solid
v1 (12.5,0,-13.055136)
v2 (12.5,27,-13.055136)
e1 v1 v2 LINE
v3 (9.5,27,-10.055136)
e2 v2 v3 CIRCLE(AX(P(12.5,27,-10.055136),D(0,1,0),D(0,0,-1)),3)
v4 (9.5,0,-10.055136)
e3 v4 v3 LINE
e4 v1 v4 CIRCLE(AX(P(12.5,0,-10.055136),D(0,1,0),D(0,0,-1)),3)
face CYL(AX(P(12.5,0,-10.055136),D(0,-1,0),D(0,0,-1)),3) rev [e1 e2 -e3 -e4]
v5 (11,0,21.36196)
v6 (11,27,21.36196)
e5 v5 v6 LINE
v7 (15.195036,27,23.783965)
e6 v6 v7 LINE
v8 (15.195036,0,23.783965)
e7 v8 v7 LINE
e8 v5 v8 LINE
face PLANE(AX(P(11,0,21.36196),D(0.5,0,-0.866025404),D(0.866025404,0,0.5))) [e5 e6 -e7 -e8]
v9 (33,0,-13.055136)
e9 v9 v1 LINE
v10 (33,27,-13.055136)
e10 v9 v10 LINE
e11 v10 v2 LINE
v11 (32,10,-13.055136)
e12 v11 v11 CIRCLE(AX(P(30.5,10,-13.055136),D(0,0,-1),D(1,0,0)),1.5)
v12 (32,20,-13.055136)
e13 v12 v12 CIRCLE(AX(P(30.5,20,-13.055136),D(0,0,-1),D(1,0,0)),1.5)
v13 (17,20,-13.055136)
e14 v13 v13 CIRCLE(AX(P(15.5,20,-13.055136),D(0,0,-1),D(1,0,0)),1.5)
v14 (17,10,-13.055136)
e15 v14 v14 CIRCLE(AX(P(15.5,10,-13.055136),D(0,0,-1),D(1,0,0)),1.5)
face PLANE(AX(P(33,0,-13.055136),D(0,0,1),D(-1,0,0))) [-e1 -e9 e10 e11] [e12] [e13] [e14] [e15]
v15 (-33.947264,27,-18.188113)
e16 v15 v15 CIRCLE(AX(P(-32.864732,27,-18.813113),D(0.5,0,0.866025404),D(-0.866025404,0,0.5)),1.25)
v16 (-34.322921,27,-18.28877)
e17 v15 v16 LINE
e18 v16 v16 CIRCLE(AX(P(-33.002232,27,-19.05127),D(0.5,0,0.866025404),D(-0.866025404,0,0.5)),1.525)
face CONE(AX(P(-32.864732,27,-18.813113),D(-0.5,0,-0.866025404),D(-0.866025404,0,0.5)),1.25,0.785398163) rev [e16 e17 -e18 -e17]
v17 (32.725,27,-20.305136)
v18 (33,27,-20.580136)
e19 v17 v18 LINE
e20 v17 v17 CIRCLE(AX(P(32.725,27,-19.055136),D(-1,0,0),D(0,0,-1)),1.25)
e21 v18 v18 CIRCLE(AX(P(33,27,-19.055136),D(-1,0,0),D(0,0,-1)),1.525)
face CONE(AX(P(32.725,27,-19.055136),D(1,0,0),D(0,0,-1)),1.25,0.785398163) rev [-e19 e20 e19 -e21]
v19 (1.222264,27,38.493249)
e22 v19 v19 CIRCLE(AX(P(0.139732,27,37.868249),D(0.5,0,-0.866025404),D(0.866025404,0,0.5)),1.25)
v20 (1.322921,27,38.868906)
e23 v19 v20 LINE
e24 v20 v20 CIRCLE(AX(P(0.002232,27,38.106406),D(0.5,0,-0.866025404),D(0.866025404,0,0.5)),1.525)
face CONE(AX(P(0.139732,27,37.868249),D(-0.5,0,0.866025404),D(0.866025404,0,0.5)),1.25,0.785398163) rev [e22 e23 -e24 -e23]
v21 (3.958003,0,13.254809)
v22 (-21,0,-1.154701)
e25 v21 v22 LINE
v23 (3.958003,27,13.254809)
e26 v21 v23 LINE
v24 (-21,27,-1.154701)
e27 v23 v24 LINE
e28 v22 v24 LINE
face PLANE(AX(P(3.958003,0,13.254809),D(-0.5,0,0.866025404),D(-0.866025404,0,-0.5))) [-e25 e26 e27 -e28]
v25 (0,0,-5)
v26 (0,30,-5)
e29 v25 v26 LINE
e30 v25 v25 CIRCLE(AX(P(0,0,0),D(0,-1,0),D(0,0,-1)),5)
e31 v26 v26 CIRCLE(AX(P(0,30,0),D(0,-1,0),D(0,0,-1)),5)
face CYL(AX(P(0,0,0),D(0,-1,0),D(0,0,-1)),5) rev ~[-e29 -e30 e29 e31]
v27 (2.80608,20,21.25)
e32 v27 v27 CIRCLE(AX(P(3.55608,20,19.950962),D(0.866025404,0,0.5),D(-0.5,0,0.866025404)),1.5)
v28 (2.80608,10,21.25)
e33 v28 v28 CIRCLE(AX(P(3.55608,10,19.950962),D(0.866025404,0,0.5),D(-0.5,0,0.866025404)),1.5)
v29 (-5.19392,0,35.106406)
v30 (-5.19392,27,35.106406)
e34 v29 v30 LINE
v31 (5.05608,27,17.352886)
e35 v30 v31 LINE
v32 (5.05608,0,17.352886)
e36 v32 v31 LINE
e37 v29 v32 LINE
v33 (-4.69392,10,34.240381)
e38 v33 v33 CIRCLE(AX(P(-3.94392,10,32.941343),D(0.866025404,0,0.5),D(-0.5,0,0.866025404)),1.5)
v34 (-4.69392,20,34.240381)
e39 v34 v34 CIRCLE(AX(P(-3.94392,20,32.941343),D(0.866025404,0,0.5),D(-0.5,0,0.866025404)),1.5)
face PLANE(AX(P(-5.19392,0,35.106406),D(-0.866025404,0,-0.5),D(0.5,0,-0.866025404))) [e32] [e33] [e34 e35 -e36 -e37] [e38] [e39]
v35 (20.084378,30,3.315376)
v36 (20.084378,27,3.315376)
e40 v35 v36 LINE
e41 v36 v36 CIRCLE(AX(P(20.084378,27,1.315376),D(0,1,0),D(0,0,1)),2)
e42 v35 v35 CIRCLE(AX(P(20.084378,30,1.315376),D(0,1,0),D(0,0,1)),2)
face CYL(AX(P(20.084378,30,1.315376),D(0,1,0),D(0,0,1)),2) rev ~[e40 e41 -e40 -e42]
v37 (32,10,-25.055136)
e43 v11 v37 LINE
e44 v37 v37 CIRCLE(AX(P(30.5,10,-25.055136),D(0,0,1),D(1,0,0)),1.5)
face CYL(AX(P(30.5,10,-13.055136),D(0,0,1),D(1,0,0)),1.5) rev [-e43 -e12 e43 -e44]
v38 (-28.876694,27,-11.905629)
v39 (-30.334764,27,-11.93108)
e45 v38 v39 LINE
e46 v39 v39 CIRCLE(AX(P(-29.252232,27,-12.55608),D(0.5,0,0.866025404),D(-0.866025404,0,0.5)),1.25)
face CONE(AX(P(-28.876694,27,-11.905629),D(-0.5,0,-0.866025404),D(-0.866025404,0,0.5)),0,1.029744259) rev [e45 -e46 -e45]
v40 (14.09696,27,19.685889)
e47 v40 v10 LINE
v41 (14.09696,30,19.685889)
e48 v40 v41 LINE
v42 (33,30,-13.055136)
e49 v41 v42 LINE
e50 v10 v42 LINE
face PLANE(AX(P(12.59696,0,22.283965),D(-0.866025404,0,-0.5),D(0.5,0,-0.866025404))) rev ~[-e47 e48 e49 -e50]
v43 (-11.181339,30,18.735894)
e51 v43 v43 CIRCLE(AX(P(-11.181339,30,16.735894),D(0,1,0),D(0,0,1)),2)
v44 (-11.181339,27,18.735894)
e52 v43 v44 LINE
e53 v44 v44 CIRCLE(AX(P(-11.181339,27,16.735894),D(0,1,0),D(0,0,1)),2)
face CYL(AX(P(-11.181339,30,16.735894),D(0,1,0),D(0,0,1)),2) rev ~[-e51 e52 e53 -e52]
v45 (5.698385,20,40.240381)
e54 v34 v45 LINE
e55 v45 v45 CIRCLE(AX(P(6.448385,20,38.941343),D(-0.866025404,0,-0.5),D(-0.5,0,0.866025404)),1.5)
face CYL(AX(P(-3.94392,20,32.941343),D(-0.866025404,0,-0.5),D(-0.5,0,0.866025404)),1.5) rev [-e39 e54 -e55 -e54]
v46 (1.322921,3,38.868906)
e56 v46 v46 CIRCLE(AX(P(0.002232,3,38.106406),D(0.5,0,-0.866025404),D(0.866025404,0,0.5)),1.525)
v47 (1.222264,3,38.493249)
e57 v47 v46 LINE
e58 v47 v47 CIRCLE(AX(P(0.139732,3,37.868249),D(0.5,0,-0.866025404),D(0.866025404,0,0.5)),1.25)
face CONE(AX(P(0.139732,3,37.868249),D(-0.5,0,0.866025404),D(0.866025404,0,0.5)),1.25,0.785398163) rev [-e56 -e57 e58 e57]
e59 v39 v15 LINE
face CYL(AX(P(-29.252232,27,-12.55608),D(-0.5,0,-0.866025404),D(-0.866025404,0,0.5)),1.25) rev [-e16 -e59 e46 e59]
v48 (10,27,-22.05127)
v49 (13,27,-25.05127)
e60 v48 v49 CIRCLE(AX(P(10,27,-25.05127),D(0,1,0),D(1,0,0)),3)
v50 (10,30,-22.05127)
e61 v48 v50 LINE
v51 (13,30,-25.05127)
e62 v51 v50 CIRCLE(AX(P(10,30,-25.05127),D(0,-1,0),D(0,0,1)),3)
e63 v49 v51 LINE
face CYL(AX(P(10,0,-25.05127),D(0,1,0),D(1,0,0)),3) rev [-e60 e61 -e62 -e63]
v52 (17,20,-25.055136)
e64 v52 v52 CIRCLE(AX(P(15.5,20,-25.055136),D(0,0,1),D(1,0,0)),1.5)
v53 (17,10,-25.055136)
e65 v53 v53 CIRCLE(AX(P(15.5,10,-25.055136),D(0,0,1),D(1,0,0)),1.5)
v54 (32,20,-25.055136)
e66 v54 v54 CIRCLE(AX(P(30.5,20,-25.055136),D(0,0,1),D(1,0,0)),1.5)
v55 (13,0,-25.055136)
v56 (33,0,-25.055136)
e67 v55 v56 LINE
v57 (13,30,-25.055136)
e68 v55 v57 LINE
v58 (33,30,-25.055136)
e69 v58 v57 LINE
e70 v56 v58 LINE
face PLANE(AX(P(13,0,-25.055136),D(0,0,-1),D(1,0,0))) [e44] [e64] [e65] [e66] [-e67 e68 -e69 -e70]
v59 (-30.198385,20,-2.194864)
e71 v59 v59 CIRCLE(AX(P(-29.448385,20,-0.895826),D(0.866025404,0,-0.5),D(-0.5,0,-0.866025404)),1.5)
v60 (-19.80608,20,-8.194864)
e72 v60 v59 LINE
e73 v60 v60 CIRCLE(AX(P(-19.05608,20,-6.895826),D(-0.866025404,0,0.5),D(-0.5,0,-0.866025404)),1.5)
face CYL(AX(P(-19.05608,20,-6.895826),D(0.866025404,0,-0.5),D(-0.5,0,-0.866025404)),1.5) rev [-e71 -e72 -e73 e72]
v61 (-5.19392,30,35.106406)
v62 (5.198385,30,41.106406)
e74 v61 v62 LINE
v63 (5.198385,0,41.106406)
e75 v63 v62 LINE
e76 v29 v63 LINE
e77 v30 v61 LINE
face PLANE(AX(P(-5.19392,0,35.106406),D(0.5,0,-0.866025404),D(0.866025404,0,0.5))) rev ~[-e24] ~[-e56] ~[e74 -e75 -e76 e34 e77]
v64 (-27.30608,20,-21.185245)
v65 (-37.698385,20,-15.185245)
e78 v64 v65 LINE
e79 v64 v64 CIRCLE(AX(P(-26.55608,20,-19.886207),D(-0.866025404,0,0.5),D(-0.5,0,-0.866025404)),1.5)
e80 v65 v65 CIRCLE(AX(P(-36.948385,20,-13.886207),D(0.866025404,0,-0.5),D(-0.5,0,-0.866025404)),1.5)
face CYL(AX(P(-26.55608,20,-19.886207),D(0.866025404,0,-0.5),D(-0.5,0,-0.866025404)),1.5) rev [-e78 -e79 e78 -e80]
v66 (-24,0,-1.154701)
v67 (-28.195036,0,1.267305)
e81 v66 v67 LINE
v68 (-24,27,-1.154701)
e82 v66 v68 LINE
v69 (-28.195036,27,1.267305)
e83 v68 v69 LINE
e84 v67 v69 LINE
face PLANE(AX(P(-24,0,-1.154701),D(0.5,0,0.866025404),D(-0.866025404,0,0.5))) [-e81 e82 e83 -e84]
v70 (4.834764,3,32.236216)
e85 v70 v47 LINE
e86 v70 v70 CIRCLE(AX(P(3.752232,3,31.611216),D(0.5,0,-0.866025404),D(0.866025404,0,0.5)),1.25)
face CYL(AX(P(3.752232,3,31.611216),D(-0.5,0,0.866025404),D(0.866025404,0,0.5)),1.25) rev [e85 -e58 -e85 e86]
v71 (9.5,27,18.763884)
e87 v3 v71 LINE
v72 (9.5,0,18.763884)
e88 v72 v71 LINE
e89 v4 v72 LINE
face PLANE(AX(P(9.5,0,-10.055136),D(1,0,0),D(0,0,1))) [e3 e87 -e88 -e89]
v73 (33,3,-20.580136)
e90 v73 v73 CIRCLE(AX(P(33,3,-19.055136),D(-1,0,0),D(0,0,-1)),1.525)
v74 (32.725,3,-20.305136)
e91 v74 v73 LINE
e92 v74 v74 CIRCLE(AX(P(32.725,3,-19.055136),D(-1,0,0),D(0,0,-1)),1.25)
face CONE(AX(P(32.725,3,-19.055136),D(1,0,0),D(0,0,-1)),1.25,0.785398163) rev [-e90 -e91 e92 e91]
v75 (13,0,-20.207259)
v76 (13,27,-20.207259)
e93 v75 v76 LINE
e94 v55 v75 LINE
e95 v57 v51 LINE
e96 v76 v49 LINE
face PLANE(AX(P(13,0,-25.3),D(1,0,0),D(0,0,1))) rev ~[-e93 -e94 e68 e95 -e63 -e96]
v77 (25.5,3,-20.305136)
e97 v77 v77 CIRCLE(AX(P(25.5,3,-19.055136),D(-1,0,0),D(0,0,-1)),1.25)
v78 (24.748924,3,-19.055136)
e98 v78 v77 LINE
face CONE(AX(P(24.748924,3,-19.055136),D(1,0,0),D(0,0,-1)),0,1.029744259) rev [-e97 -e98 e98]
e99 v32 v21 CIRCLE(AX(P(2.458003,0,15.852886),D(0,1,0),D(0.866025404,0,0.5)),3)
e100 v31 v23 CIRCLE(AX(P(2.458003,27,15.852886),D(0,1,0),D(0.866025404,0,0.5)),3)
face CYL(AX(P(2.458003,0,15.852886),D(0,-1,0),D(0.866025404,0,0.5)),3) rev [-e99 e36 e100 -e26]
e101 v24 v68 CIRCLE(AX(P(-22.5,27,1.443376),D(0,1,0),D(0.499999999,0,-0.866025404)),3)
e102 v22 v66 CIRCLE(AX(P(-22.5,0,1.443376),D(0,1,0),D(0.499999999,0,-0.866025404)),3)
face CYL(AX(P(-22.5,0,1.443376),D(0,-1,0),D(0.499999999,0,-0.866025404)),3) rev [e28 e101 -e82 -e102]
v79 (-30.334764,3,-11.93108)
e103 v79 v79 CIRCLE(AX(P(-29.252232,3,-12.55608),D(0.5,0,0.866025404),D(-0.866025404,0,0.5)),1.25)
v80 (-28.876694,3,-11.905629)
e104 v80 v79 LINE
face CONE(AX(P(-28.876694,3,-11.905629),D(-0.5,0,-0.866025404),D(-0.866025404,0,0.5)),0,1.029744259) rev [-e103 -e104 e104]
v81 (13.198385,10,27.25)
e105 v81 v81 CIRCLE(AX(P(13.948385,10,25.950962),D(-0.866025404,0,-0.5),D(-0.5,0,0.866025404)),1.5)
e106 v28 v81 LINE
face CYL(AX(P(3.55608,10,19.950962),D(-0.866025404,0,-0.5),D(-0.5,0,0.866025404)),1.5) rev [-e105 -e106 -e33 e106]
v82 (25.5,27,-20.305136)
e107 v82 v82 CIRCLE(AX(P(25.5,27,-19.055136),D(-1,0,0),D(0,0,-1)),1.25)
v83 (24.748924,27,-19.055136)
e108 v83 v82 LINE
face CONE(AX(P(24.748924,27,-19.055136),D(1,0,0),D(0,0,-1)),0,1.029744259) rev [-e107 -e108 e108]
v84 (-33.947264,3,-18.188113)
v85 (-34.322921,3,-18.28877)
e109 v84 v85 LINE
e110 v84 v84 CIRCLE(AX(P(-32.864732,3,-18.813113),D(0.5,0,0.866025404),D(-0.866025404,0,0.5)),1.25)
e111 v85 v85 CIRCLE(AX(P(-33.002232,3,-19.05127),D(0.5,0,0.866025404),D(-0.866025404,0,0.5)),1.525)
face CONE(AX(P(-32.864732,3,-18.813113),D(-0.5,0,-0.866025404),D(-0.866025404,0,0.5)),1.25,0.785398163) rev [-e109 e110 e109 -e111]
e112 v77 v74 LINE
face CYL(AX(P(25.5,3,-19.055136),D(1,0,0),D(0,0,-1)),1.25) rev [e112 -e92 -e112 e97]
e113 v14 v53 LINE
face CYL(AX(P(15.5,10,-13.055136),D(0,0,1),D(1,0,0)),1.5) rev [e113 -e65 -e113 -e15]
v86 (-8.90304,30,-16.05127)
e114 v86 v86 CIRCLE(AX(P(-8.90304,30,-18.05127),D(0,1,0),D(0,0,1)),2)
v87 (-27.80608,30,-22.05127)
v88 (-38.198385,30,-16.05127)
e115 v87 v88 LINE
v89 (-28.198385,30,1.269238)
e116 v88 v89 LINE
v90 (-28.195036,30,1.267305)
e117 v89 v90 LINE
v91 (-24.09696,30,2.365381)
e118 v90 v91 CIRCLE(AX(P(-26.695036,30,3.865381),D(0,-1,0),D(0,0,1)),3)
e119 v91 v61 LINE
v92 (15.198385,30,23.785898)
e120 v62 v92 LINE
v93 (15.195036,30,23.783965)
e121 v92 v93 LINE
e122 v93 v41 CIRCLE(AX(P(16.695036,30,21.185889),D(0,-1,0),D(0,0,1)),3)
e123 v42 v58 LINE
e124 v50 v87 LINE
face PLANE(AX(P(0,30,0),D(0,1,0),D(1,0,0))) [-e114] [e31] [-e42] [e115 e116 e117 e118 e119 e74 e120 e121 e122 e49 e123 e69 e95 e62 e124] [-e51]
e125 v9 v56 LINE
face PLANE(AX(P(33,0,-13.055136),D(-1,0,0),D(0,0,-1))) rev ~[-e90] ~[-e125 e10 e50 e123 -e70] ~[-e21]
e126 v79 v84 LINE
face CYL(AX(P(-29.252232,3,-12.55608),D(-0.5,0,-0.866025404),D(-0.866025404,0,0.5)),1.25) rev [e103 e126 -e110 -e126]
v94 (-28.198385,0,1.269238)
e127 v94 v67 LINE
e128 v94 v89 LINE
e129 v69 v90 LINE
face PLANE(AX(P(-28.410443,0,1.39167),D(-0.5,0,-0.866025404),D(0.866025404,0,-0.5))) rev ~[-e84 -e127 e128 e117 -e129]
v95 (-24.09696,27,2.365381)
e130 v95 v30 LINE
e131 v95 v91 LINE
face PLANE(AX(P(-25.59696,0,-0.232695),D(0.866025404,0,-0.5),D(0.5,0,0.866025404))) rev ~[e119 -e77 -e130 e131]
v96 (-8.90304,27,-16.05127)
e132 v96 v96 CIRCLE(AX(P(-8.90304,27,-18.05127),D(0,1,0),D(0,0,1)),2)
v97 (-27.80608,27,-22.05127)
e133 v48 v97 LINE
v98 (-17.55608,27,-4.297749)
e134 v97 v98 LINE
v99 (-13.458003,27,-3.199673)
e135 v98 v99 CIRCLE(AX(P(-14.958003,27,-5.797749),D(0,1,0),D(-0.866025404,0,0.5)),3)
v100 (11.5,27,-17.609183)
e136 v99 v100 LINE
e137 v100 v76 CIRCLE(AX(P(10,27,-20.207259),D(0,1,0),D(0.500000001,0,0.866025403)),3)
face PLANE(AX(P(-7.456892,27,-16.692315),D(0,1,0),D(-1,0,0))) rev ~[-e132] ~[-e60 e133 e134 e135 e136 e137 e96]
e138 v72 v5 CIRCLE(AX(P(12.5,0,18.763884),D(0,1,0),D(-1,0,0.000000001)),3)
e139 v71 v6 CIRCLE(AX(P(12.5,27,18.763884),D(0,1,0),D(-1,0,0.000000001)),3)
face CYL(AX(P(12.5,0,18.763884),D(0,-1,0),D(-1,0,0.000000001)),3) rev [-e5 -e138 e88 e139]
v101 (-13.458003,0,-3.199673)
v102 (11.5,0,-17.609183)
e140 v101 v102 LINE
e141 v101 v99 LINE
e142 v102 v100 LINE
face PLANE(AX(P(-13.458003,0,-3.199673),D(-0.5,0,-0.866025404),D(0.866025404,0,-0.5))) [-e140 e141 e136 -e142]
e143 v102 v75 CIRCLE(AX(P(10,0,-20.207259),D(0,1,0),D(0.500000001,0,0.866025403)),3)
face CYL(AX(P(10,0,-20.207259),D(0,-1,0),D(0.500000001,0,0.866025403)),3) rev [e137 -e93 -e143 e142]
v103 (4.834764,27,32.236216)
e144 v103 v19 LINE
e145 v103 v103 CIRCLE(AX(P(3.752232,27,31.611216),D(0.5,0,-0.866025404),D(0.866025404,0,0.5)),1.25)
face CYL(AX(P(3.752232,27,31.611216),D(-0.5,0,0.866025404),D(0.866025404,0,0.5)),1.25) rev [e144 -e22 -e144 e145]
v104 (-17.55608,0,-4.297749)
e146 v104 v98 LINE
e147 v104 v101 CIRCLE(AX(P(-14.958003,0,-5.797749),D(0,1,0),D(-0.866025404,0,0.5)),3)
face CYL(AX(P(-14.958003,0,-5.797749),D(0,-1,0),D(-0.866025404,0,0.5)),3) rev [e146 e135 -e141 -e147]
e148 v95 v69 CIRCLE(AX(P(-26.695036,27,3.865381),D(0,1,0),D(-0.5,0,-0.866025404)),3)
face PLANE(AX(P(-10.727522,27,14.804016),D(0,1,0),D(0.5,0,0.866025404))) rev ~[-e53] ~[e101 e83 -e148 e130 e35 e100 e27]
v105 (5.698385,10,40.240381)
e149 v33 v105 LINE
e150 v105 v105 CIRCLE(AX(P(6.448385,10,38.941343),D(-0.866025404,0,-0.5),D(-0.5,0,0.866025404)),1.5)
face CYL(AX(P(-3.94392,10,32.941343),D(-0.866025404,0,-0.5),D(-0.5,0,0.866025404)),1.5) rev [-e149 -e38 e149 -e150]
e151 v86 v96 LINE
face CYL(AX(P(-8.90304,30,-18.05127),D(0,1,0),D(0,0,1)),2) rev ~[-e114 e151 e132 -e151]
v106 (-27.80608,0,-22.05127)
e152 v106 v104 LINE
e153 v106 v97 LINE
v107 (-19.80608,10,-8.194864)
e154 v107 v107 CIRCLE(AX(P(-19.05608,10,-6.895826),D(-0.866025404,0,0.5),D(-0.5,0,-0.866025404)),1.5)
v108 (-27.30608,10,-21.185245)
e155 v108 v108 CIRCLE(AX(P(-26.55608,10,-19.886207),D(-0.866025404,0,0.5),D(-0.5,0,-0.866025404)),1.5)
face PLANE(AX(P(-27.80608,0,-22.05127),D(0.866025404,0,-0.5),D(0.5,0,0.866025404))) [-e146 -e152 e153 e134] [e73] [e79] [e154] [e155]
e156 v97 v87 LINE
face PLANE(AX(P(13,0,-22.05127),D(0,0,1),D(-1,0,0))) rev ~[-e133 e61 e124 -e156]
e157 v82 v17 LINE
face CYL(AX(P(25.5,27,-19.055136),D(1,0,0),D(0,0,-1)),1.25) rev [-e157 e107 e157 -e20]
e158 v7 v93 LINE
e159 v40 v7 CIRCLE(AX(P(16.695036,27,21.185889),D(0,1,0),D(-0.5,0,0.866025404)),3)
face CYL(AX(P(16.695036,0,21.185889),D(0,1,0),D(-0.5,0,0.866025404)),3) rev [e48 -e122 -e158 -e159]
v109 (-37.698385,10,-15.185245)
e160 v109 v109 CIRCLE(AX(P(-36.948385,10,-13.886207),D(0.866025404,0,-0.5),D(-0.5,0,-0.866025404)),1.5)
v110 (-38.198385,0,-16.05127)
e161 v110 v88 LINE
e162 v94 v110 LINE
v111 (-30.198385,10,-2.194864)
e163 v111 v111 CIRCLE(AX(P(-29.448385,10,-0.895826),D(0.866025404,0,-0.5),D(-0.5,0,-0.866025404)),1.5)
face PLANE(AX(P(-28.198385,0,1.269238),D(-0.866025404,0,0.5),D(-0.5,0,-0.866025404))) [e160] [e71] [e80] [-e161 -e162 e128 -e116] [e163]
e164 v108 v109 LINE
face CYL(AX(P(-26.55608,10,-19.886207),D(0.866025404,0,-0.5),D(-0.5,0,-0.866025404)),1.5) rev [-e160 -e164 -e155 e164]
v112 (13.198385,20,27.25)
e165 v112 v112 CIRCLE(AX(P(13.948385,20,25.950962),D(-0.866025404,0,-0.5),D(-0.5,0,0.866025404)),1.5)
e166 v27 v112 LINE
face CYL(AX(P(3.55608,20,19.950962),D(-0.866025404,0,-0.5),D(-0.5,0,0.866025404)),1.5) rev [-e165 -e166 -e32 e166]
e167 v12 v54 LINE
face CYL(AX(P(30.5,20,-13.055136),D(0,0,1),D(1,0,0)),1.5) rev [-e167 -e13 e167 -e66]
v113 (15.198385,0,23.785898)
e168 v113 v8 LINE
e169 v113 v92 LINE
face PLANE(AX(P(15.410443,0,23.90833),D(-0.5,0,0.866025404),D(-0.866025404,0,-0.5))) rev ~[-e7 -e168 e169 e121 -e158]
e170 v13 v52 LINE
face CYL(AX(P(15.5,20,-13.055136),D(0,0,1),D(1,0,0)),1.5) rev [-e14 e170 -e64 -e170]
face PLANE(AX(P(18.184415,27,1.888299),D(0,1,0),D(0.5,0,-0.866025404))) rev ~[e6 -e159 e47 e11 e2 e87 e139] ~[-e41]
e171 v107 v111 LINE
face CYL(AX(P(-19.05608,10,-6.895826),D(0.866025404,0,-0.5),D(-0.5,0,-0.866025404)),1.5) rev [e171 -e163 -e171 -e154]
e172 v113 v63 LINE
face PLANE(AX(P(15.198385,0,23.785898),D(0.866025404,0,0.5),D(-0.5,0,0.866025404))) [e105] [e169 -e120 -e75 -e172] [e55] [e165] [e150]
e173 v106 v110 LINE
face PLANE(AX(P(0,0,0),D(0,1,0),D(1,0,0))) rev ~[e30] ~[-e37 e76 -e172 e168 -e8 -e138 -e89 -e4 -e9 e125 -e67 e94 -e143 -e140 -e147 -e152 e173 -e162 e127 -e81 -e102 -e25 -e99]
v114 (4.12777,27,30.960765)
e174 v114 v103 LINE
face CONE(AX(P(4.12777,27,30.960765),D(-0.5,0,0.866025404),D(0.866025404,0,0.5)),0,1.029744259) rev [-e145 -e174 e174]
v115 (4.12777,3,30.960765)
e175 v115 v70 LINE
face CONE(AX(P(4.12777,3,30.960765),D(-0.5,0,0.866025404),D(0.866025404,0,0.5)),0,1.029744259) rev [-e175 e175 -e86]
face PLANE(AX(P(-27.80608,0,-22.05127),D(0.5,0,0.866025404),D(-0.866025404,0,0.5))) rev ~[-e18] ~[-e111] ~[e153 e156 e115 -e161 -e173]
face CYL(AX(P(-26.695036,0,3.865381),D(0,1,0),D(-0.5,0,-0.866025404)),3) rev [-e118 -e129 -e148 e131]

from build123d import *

# Parameters (mm, degrees)
EXTRUDE_1_DEPTH             = 30
FILLET_3_R                  = 3
SKETCH_9_R                  = 5
CUT_EXTRUDE_5_DEPTH         = 64.837130412
CUT_EXTRUDE_6_DEPTH         = 27
PATTERN_CIRCULAR_1_COUNT    = 3
SKETCH_11_W                 = 20
SKETCH_11_H                 = 0.244863729
CUT_EXTRUDE_7_DEPTH         = 64.837130412
CUT_EXTRUDE_8_REACH         = 74.953
SKETCH_12_R                 = 1.5
HOLE_WIZARD_M3_1_AT_2_COUNT = 2
HOLE_WIZARD_M3_1_AT_2_PITCH = 24
PATTERN_CIRCULAR_2_COUNT    = 3
SKETCH_15_R                 = 2
CUT_EXTRUDE_9_DEPTH         = 64.630599801


with BuildPart() as part:
    # 草图1 → 凸台-拉伸1 (new body)
    with BuildSketch(Plane(origin=(0, 0, 0), x_dir=(1, 0, 0), z_dir=(0, 1, 0))):
        Polygon((33, 25.3), (13, 25.3), (13, 22.051270189), (-27.806079661, 22.051270189), (-38.410442716, 15.928838325), (-28.410442716, -1.391669751), (-25.59696017, 0.232695155), (-5.193920339, -35.106406461), (5.410442716, -41.228838325), (15.410442716, -23.908330249), (12.59696017, -22.283965344), (33, 13.055136271), align=None)
    extrude(amount=EXTRUDE_1_DEPTH)

    # 圆角3
    fillet_3_edges = [part.edges().sort_by_distance(p)[0] for p in [
        (13, 15, -22.051270189),
        (12.59696017, 15, 22.283965344),
        (-25.59696017, 15, -0.232695155),
    ]]
    fillet(fillet_3_edges, radius=FILLET_3_R)

    # 草图9 → 切除-拉伸5 (cut, through all)
    with BuildSketch(Plane.XZ):
        with Locations(Location((0, 0, 0), (0, 0, 270))):
            Circle(SKETCH_9_R)
    extrude(amount=-CUT_EXTRUDE_5_DEPTH, mode=Mode.SUBTRACT)

    # 草图10 → 切除-拉伸6 (cut)
    with BuildSketch(Plane.XZ):
        with BuildLine():
            Line((-27.806079661, -22.051270189), (-17.556079661, -4.297749412))
            ThreePointArc((-17.556079661, -4.297749412), (-15.734460585, -2.899971933), (-13.458003449, -3.1996732))
            Line((-13.458003449, -3.1996732), (11.5, -17.60918321))
            ThreePointArc((11.5, -17.60918321), (12.598076211, -18.707259422), (13, -20.207259422))
            Line((13, -20.207259422), (13, -25.051270189))
            Line((13, -25.051270189), (-27.806079661, -22.051270189))
        make_face()
    cut_extrude_6 = extrude(amount=-CUT_EXTRUDE_6_DEPTH, mode=Mode.SUBTRACT)

    # 阵列(圆周)1: 切除-拉伸6 ×3 about axis
    pattern_circular_1_axis = Axis((0, 0, 0), (0, 1, 0))
    for i in range(1, PATTERN_CIRCULAR_1_COUNT):
        add(cut_extrude_6.rotate(pattern_circular_1_axis, i * 360 / PATTERN_CIRCULAR_1_COUNT), mode=Mode.SUBTRACT)

    # 草图11 → 切除-拉伸7 (cut, through all)
    with BuildSketch(Plane.XZ):
        with Locations((23, -25.177568136)):
            Rectangle(SKETCH_11_W, SKETCH_11_H)
    cut_extrude_7 = extrude(amount=-CUT_EXTRUDE_7_DEPTH, mode=Mode.SUBTRACT)

    # 草图12 → 切除-拉伸8 (cut, up to next)
    with BuildSketch(Plane(origin=(0, 0, -13.055136271), x_dir=(-1, 0, 0), z_dir=(0, 0, -1)), mode=Mode.PRIVATE) as cut_extrude_8_sk1:
        with Locations(Location((-30.5, 10, 0), (0, 0, 180))):
            Circle(SKETCH_12_R)
    cut_extrude_8_tool1 = extrude(cut_extrude_8_sk1.sketch, amount=CUT_EXTRUDE_8_REACH, mode=Mode.PRIVATE) & part.part
    # 草图12 → 切除-拉伸8 (cut, up to next)
    with BuildSketch(Plane(origin=(0, 0, -13.055136271), x_dir=(-1, 0, 0), z_dir=(0, 0, -1)), mode=Mode.PRIVATE) as cut_extrude_8_sk2:
        with Locations(Location((-30.5, 20, 0), (0, 0, 180))):
            Circle(SKETCH_12_R)
    cut_extrude_8_tool2 = extrude(cut_extrude_8_sk2.sketch, amount=CUT_EXTRUDE_8_REACH, mode=Mode.PRIVATE) & part.part
    # 草图12 → 切除-拉伸8 (cut, up to next)
    with BuildSketch(Plane(origin=(0, 0, -13.055136271), x_dir=(-1, 0, 0), z_dir=(0, 0, -1)), mode=Mode.PRIVATE) as cut_extrude_8_sk3:
        with Locations(Location((-15.5, 20, 0), (0, 0, 180))):
            Circle(SKETCH_12_R)
    cut_extrude_8_tool3 = extrude(cut_extrude_8_sk3.sketch, amount=CUT_EXTRUDE_8_REACH, mode=Mode.PRIVATE) & part.part
    # 草图12 → 切除-拉伸8 (cut, up to next)
    with BuildSketch(Plane(origin=(0, 0, -13.055136271), x_dir=(-1, 0, 0), z_dir=(0, 0, -1)), mode=Mode.PRIVATE) as cut_extrude_8_sk4:
        with Locations(Location((-15.5, 10, 0), (0, 0, 180))):
            Circle(SKETCH_12_R)
    cut_extrude_8_tool4 = extrude(cut_extrude_8_sk4.sketch, amount=CUT_EXTRUDE_8_REACH, mode=Mode.PRIVATE) & part.part
    cut_extrude_8_1 = cut_extrude_8_tool1.solids().sort_by_distance((30.5, 10, -13.055136))[0]
    add(cut_extrude_8_1, mode=Mode.SUBTRACT)
    cut_extrude_8_2 = cut_extrude_8_tool2.solids().sort_by_distance((30.5, 20, -13.055136))[0]
    add(cut_extrude_8_2, mode=Mode.SUBTRACT)
    cut_extrude_8_3 = cut_extrude_8_tool3.solids().sort_by_distance((15.5, 20, -13.055136))[0]
    add(cut_extrude_8_3, mode=Mode.SUBTRACT)
    cut_extrude_8_4 = cut_extrude_8_tool4.solids().sort_by_distance((15.5, 10, -13.055136))[0]
    add(cut_extrude_8_4, mode=Mode.SUBTRACT)
    cut_extrude_8 = cut_extrude_8_1 + cut_extrude_8_2 + cut_extrude_8_3 + cut_extrude_8_4  # 切除-拉伸8 as one shape, for the pattern or mirror that repeats it

    # 草图14 → M3 螺纹孔1 (revolve, cut)
    with BuildSketch(Plane(origin=(33, 3, -19.055136271), x_dir=(0, 0, -1), z_dir=(0, 1, 0))):
        Polygon((0, 0), (0, 8.251075774), (1.25, 7.5), (1.25, 0.275), (1.525, 0), align=None)
    hole_wizard_m3_1 = revolve(axis=Axis((39.35, 3, -19.055136271), (-1, 0, 0)), mode=Mode.SUBTRACT)

    # M3 螺纹孔1 at 2: M3 螺纹孔1 ×2
    with Locations(*[(0, i * HOLE_WIZARD_M3_1_AT_2_PITCH, 0) for i in range(1, HOLE_WIZARD_M3_1_AT_2_COUNT)]):
        add(hole_wizard_m3_1, mode=Mode.SUBTRACT)

    # 阵列(圆周)2: 切除-拉伸7, 切除-拉伸8, M3 螺纹孔1 ×3 about axis
    pattern_circular_2_axis = Axis((0, 0, 0), (0, 1, 0))
    add([cut_extrude_7.rotate(pattern_circular_2_axis, i * 360 / PATTERN_CIRCULAR_2_COUNT) for i in range(1, PATTERN_CIRCULAR_2_COUNT)], mode=Mode.SUBTRACT)
    add([cut_extrude_8.rotate(pattern_circular_2_axis, i * 360 / PATTERN_CIRCULAR_2_COUNT) for i in range(1, PATTERN_CIRCULAR_2_COUNT)], mode=Mode.SUBTRACT)
    add([hole_wizard_m3_1.rotate(pattern_circular_2_axis, i * 360 / PATTERN_CIRCULAR_2_COUNT) for i in range(1, PATTERN_CIRCULAR_2_COUNT)], mode=Mode.SUBTRACT)

    # 阵列(圆周)2 copy 1 sketch → 阵列(圆周)2 copy 1 (revolve, cut)
    with BuildSketch(Plane(origin=(-33.002232084, 27, -19.051270189), x_dir=(-0.8660254037844396, 0, 0.4999999999999983), z_dir=(0, 1, 0))):
        Polygon((0, 0), (0, 8.251075774), (1.25, 7.5), (1.25, 0.275), (1.525, 0), align=None)
    revolve(axis=Axis((-36.177232084, 27, -24.550531503), (0.4999999999999983, 0, 0.8660254037844396)), mode=Mode.SUBTRACT)

    # 阵列(圆周)2 copy 2 sketch → 阵列(圆周)2 copy 2 (revolve, cut)
    with BuildSketch(Plane(origin=(0.002232084, 27, 38.106406461), x_dir=(0.8660254037844375, 0, 0.5000000000000019), z_dir=(0, 1, 0))):
        Polygon((0, 0), (0, 8.251075774), (1.25, 7.5), (1.25, 0.275), (1.525, 0), align=None)
    revolve(axis=Axis((-3.172767916, 27, 43.605667775), (0.5000000000000019, 0, -0.8660254037844375)), mode=Mode.SUBTRACT)

    # 草图15 → 切除-拉伸9 (cut, through all)
    with BuildSketch(Plane(origin=(0, 30, 0), x_dir=(1, 0, 0), z_dir=(0, 1, 0))):
        with Locations(Location((-8.90303983, 18.051270189, 0), (0, 0, 270))):
            Circle(SKETCH_15_R)
        with Locations(Location((20.08437847, -1.315376431, 0), (0, 0, 270))):
            Circle(SKETCH_15_R)
        with Locations(Location((-11.181338639, -16.735893759, 0), (0, 0, 270))):
            Circle(SKETCH_15_R)
    extrude(amount=-CUT_EXTRUDE_9_DEPTH, mode=Mode.SUBTRACT)


solid = part.part
